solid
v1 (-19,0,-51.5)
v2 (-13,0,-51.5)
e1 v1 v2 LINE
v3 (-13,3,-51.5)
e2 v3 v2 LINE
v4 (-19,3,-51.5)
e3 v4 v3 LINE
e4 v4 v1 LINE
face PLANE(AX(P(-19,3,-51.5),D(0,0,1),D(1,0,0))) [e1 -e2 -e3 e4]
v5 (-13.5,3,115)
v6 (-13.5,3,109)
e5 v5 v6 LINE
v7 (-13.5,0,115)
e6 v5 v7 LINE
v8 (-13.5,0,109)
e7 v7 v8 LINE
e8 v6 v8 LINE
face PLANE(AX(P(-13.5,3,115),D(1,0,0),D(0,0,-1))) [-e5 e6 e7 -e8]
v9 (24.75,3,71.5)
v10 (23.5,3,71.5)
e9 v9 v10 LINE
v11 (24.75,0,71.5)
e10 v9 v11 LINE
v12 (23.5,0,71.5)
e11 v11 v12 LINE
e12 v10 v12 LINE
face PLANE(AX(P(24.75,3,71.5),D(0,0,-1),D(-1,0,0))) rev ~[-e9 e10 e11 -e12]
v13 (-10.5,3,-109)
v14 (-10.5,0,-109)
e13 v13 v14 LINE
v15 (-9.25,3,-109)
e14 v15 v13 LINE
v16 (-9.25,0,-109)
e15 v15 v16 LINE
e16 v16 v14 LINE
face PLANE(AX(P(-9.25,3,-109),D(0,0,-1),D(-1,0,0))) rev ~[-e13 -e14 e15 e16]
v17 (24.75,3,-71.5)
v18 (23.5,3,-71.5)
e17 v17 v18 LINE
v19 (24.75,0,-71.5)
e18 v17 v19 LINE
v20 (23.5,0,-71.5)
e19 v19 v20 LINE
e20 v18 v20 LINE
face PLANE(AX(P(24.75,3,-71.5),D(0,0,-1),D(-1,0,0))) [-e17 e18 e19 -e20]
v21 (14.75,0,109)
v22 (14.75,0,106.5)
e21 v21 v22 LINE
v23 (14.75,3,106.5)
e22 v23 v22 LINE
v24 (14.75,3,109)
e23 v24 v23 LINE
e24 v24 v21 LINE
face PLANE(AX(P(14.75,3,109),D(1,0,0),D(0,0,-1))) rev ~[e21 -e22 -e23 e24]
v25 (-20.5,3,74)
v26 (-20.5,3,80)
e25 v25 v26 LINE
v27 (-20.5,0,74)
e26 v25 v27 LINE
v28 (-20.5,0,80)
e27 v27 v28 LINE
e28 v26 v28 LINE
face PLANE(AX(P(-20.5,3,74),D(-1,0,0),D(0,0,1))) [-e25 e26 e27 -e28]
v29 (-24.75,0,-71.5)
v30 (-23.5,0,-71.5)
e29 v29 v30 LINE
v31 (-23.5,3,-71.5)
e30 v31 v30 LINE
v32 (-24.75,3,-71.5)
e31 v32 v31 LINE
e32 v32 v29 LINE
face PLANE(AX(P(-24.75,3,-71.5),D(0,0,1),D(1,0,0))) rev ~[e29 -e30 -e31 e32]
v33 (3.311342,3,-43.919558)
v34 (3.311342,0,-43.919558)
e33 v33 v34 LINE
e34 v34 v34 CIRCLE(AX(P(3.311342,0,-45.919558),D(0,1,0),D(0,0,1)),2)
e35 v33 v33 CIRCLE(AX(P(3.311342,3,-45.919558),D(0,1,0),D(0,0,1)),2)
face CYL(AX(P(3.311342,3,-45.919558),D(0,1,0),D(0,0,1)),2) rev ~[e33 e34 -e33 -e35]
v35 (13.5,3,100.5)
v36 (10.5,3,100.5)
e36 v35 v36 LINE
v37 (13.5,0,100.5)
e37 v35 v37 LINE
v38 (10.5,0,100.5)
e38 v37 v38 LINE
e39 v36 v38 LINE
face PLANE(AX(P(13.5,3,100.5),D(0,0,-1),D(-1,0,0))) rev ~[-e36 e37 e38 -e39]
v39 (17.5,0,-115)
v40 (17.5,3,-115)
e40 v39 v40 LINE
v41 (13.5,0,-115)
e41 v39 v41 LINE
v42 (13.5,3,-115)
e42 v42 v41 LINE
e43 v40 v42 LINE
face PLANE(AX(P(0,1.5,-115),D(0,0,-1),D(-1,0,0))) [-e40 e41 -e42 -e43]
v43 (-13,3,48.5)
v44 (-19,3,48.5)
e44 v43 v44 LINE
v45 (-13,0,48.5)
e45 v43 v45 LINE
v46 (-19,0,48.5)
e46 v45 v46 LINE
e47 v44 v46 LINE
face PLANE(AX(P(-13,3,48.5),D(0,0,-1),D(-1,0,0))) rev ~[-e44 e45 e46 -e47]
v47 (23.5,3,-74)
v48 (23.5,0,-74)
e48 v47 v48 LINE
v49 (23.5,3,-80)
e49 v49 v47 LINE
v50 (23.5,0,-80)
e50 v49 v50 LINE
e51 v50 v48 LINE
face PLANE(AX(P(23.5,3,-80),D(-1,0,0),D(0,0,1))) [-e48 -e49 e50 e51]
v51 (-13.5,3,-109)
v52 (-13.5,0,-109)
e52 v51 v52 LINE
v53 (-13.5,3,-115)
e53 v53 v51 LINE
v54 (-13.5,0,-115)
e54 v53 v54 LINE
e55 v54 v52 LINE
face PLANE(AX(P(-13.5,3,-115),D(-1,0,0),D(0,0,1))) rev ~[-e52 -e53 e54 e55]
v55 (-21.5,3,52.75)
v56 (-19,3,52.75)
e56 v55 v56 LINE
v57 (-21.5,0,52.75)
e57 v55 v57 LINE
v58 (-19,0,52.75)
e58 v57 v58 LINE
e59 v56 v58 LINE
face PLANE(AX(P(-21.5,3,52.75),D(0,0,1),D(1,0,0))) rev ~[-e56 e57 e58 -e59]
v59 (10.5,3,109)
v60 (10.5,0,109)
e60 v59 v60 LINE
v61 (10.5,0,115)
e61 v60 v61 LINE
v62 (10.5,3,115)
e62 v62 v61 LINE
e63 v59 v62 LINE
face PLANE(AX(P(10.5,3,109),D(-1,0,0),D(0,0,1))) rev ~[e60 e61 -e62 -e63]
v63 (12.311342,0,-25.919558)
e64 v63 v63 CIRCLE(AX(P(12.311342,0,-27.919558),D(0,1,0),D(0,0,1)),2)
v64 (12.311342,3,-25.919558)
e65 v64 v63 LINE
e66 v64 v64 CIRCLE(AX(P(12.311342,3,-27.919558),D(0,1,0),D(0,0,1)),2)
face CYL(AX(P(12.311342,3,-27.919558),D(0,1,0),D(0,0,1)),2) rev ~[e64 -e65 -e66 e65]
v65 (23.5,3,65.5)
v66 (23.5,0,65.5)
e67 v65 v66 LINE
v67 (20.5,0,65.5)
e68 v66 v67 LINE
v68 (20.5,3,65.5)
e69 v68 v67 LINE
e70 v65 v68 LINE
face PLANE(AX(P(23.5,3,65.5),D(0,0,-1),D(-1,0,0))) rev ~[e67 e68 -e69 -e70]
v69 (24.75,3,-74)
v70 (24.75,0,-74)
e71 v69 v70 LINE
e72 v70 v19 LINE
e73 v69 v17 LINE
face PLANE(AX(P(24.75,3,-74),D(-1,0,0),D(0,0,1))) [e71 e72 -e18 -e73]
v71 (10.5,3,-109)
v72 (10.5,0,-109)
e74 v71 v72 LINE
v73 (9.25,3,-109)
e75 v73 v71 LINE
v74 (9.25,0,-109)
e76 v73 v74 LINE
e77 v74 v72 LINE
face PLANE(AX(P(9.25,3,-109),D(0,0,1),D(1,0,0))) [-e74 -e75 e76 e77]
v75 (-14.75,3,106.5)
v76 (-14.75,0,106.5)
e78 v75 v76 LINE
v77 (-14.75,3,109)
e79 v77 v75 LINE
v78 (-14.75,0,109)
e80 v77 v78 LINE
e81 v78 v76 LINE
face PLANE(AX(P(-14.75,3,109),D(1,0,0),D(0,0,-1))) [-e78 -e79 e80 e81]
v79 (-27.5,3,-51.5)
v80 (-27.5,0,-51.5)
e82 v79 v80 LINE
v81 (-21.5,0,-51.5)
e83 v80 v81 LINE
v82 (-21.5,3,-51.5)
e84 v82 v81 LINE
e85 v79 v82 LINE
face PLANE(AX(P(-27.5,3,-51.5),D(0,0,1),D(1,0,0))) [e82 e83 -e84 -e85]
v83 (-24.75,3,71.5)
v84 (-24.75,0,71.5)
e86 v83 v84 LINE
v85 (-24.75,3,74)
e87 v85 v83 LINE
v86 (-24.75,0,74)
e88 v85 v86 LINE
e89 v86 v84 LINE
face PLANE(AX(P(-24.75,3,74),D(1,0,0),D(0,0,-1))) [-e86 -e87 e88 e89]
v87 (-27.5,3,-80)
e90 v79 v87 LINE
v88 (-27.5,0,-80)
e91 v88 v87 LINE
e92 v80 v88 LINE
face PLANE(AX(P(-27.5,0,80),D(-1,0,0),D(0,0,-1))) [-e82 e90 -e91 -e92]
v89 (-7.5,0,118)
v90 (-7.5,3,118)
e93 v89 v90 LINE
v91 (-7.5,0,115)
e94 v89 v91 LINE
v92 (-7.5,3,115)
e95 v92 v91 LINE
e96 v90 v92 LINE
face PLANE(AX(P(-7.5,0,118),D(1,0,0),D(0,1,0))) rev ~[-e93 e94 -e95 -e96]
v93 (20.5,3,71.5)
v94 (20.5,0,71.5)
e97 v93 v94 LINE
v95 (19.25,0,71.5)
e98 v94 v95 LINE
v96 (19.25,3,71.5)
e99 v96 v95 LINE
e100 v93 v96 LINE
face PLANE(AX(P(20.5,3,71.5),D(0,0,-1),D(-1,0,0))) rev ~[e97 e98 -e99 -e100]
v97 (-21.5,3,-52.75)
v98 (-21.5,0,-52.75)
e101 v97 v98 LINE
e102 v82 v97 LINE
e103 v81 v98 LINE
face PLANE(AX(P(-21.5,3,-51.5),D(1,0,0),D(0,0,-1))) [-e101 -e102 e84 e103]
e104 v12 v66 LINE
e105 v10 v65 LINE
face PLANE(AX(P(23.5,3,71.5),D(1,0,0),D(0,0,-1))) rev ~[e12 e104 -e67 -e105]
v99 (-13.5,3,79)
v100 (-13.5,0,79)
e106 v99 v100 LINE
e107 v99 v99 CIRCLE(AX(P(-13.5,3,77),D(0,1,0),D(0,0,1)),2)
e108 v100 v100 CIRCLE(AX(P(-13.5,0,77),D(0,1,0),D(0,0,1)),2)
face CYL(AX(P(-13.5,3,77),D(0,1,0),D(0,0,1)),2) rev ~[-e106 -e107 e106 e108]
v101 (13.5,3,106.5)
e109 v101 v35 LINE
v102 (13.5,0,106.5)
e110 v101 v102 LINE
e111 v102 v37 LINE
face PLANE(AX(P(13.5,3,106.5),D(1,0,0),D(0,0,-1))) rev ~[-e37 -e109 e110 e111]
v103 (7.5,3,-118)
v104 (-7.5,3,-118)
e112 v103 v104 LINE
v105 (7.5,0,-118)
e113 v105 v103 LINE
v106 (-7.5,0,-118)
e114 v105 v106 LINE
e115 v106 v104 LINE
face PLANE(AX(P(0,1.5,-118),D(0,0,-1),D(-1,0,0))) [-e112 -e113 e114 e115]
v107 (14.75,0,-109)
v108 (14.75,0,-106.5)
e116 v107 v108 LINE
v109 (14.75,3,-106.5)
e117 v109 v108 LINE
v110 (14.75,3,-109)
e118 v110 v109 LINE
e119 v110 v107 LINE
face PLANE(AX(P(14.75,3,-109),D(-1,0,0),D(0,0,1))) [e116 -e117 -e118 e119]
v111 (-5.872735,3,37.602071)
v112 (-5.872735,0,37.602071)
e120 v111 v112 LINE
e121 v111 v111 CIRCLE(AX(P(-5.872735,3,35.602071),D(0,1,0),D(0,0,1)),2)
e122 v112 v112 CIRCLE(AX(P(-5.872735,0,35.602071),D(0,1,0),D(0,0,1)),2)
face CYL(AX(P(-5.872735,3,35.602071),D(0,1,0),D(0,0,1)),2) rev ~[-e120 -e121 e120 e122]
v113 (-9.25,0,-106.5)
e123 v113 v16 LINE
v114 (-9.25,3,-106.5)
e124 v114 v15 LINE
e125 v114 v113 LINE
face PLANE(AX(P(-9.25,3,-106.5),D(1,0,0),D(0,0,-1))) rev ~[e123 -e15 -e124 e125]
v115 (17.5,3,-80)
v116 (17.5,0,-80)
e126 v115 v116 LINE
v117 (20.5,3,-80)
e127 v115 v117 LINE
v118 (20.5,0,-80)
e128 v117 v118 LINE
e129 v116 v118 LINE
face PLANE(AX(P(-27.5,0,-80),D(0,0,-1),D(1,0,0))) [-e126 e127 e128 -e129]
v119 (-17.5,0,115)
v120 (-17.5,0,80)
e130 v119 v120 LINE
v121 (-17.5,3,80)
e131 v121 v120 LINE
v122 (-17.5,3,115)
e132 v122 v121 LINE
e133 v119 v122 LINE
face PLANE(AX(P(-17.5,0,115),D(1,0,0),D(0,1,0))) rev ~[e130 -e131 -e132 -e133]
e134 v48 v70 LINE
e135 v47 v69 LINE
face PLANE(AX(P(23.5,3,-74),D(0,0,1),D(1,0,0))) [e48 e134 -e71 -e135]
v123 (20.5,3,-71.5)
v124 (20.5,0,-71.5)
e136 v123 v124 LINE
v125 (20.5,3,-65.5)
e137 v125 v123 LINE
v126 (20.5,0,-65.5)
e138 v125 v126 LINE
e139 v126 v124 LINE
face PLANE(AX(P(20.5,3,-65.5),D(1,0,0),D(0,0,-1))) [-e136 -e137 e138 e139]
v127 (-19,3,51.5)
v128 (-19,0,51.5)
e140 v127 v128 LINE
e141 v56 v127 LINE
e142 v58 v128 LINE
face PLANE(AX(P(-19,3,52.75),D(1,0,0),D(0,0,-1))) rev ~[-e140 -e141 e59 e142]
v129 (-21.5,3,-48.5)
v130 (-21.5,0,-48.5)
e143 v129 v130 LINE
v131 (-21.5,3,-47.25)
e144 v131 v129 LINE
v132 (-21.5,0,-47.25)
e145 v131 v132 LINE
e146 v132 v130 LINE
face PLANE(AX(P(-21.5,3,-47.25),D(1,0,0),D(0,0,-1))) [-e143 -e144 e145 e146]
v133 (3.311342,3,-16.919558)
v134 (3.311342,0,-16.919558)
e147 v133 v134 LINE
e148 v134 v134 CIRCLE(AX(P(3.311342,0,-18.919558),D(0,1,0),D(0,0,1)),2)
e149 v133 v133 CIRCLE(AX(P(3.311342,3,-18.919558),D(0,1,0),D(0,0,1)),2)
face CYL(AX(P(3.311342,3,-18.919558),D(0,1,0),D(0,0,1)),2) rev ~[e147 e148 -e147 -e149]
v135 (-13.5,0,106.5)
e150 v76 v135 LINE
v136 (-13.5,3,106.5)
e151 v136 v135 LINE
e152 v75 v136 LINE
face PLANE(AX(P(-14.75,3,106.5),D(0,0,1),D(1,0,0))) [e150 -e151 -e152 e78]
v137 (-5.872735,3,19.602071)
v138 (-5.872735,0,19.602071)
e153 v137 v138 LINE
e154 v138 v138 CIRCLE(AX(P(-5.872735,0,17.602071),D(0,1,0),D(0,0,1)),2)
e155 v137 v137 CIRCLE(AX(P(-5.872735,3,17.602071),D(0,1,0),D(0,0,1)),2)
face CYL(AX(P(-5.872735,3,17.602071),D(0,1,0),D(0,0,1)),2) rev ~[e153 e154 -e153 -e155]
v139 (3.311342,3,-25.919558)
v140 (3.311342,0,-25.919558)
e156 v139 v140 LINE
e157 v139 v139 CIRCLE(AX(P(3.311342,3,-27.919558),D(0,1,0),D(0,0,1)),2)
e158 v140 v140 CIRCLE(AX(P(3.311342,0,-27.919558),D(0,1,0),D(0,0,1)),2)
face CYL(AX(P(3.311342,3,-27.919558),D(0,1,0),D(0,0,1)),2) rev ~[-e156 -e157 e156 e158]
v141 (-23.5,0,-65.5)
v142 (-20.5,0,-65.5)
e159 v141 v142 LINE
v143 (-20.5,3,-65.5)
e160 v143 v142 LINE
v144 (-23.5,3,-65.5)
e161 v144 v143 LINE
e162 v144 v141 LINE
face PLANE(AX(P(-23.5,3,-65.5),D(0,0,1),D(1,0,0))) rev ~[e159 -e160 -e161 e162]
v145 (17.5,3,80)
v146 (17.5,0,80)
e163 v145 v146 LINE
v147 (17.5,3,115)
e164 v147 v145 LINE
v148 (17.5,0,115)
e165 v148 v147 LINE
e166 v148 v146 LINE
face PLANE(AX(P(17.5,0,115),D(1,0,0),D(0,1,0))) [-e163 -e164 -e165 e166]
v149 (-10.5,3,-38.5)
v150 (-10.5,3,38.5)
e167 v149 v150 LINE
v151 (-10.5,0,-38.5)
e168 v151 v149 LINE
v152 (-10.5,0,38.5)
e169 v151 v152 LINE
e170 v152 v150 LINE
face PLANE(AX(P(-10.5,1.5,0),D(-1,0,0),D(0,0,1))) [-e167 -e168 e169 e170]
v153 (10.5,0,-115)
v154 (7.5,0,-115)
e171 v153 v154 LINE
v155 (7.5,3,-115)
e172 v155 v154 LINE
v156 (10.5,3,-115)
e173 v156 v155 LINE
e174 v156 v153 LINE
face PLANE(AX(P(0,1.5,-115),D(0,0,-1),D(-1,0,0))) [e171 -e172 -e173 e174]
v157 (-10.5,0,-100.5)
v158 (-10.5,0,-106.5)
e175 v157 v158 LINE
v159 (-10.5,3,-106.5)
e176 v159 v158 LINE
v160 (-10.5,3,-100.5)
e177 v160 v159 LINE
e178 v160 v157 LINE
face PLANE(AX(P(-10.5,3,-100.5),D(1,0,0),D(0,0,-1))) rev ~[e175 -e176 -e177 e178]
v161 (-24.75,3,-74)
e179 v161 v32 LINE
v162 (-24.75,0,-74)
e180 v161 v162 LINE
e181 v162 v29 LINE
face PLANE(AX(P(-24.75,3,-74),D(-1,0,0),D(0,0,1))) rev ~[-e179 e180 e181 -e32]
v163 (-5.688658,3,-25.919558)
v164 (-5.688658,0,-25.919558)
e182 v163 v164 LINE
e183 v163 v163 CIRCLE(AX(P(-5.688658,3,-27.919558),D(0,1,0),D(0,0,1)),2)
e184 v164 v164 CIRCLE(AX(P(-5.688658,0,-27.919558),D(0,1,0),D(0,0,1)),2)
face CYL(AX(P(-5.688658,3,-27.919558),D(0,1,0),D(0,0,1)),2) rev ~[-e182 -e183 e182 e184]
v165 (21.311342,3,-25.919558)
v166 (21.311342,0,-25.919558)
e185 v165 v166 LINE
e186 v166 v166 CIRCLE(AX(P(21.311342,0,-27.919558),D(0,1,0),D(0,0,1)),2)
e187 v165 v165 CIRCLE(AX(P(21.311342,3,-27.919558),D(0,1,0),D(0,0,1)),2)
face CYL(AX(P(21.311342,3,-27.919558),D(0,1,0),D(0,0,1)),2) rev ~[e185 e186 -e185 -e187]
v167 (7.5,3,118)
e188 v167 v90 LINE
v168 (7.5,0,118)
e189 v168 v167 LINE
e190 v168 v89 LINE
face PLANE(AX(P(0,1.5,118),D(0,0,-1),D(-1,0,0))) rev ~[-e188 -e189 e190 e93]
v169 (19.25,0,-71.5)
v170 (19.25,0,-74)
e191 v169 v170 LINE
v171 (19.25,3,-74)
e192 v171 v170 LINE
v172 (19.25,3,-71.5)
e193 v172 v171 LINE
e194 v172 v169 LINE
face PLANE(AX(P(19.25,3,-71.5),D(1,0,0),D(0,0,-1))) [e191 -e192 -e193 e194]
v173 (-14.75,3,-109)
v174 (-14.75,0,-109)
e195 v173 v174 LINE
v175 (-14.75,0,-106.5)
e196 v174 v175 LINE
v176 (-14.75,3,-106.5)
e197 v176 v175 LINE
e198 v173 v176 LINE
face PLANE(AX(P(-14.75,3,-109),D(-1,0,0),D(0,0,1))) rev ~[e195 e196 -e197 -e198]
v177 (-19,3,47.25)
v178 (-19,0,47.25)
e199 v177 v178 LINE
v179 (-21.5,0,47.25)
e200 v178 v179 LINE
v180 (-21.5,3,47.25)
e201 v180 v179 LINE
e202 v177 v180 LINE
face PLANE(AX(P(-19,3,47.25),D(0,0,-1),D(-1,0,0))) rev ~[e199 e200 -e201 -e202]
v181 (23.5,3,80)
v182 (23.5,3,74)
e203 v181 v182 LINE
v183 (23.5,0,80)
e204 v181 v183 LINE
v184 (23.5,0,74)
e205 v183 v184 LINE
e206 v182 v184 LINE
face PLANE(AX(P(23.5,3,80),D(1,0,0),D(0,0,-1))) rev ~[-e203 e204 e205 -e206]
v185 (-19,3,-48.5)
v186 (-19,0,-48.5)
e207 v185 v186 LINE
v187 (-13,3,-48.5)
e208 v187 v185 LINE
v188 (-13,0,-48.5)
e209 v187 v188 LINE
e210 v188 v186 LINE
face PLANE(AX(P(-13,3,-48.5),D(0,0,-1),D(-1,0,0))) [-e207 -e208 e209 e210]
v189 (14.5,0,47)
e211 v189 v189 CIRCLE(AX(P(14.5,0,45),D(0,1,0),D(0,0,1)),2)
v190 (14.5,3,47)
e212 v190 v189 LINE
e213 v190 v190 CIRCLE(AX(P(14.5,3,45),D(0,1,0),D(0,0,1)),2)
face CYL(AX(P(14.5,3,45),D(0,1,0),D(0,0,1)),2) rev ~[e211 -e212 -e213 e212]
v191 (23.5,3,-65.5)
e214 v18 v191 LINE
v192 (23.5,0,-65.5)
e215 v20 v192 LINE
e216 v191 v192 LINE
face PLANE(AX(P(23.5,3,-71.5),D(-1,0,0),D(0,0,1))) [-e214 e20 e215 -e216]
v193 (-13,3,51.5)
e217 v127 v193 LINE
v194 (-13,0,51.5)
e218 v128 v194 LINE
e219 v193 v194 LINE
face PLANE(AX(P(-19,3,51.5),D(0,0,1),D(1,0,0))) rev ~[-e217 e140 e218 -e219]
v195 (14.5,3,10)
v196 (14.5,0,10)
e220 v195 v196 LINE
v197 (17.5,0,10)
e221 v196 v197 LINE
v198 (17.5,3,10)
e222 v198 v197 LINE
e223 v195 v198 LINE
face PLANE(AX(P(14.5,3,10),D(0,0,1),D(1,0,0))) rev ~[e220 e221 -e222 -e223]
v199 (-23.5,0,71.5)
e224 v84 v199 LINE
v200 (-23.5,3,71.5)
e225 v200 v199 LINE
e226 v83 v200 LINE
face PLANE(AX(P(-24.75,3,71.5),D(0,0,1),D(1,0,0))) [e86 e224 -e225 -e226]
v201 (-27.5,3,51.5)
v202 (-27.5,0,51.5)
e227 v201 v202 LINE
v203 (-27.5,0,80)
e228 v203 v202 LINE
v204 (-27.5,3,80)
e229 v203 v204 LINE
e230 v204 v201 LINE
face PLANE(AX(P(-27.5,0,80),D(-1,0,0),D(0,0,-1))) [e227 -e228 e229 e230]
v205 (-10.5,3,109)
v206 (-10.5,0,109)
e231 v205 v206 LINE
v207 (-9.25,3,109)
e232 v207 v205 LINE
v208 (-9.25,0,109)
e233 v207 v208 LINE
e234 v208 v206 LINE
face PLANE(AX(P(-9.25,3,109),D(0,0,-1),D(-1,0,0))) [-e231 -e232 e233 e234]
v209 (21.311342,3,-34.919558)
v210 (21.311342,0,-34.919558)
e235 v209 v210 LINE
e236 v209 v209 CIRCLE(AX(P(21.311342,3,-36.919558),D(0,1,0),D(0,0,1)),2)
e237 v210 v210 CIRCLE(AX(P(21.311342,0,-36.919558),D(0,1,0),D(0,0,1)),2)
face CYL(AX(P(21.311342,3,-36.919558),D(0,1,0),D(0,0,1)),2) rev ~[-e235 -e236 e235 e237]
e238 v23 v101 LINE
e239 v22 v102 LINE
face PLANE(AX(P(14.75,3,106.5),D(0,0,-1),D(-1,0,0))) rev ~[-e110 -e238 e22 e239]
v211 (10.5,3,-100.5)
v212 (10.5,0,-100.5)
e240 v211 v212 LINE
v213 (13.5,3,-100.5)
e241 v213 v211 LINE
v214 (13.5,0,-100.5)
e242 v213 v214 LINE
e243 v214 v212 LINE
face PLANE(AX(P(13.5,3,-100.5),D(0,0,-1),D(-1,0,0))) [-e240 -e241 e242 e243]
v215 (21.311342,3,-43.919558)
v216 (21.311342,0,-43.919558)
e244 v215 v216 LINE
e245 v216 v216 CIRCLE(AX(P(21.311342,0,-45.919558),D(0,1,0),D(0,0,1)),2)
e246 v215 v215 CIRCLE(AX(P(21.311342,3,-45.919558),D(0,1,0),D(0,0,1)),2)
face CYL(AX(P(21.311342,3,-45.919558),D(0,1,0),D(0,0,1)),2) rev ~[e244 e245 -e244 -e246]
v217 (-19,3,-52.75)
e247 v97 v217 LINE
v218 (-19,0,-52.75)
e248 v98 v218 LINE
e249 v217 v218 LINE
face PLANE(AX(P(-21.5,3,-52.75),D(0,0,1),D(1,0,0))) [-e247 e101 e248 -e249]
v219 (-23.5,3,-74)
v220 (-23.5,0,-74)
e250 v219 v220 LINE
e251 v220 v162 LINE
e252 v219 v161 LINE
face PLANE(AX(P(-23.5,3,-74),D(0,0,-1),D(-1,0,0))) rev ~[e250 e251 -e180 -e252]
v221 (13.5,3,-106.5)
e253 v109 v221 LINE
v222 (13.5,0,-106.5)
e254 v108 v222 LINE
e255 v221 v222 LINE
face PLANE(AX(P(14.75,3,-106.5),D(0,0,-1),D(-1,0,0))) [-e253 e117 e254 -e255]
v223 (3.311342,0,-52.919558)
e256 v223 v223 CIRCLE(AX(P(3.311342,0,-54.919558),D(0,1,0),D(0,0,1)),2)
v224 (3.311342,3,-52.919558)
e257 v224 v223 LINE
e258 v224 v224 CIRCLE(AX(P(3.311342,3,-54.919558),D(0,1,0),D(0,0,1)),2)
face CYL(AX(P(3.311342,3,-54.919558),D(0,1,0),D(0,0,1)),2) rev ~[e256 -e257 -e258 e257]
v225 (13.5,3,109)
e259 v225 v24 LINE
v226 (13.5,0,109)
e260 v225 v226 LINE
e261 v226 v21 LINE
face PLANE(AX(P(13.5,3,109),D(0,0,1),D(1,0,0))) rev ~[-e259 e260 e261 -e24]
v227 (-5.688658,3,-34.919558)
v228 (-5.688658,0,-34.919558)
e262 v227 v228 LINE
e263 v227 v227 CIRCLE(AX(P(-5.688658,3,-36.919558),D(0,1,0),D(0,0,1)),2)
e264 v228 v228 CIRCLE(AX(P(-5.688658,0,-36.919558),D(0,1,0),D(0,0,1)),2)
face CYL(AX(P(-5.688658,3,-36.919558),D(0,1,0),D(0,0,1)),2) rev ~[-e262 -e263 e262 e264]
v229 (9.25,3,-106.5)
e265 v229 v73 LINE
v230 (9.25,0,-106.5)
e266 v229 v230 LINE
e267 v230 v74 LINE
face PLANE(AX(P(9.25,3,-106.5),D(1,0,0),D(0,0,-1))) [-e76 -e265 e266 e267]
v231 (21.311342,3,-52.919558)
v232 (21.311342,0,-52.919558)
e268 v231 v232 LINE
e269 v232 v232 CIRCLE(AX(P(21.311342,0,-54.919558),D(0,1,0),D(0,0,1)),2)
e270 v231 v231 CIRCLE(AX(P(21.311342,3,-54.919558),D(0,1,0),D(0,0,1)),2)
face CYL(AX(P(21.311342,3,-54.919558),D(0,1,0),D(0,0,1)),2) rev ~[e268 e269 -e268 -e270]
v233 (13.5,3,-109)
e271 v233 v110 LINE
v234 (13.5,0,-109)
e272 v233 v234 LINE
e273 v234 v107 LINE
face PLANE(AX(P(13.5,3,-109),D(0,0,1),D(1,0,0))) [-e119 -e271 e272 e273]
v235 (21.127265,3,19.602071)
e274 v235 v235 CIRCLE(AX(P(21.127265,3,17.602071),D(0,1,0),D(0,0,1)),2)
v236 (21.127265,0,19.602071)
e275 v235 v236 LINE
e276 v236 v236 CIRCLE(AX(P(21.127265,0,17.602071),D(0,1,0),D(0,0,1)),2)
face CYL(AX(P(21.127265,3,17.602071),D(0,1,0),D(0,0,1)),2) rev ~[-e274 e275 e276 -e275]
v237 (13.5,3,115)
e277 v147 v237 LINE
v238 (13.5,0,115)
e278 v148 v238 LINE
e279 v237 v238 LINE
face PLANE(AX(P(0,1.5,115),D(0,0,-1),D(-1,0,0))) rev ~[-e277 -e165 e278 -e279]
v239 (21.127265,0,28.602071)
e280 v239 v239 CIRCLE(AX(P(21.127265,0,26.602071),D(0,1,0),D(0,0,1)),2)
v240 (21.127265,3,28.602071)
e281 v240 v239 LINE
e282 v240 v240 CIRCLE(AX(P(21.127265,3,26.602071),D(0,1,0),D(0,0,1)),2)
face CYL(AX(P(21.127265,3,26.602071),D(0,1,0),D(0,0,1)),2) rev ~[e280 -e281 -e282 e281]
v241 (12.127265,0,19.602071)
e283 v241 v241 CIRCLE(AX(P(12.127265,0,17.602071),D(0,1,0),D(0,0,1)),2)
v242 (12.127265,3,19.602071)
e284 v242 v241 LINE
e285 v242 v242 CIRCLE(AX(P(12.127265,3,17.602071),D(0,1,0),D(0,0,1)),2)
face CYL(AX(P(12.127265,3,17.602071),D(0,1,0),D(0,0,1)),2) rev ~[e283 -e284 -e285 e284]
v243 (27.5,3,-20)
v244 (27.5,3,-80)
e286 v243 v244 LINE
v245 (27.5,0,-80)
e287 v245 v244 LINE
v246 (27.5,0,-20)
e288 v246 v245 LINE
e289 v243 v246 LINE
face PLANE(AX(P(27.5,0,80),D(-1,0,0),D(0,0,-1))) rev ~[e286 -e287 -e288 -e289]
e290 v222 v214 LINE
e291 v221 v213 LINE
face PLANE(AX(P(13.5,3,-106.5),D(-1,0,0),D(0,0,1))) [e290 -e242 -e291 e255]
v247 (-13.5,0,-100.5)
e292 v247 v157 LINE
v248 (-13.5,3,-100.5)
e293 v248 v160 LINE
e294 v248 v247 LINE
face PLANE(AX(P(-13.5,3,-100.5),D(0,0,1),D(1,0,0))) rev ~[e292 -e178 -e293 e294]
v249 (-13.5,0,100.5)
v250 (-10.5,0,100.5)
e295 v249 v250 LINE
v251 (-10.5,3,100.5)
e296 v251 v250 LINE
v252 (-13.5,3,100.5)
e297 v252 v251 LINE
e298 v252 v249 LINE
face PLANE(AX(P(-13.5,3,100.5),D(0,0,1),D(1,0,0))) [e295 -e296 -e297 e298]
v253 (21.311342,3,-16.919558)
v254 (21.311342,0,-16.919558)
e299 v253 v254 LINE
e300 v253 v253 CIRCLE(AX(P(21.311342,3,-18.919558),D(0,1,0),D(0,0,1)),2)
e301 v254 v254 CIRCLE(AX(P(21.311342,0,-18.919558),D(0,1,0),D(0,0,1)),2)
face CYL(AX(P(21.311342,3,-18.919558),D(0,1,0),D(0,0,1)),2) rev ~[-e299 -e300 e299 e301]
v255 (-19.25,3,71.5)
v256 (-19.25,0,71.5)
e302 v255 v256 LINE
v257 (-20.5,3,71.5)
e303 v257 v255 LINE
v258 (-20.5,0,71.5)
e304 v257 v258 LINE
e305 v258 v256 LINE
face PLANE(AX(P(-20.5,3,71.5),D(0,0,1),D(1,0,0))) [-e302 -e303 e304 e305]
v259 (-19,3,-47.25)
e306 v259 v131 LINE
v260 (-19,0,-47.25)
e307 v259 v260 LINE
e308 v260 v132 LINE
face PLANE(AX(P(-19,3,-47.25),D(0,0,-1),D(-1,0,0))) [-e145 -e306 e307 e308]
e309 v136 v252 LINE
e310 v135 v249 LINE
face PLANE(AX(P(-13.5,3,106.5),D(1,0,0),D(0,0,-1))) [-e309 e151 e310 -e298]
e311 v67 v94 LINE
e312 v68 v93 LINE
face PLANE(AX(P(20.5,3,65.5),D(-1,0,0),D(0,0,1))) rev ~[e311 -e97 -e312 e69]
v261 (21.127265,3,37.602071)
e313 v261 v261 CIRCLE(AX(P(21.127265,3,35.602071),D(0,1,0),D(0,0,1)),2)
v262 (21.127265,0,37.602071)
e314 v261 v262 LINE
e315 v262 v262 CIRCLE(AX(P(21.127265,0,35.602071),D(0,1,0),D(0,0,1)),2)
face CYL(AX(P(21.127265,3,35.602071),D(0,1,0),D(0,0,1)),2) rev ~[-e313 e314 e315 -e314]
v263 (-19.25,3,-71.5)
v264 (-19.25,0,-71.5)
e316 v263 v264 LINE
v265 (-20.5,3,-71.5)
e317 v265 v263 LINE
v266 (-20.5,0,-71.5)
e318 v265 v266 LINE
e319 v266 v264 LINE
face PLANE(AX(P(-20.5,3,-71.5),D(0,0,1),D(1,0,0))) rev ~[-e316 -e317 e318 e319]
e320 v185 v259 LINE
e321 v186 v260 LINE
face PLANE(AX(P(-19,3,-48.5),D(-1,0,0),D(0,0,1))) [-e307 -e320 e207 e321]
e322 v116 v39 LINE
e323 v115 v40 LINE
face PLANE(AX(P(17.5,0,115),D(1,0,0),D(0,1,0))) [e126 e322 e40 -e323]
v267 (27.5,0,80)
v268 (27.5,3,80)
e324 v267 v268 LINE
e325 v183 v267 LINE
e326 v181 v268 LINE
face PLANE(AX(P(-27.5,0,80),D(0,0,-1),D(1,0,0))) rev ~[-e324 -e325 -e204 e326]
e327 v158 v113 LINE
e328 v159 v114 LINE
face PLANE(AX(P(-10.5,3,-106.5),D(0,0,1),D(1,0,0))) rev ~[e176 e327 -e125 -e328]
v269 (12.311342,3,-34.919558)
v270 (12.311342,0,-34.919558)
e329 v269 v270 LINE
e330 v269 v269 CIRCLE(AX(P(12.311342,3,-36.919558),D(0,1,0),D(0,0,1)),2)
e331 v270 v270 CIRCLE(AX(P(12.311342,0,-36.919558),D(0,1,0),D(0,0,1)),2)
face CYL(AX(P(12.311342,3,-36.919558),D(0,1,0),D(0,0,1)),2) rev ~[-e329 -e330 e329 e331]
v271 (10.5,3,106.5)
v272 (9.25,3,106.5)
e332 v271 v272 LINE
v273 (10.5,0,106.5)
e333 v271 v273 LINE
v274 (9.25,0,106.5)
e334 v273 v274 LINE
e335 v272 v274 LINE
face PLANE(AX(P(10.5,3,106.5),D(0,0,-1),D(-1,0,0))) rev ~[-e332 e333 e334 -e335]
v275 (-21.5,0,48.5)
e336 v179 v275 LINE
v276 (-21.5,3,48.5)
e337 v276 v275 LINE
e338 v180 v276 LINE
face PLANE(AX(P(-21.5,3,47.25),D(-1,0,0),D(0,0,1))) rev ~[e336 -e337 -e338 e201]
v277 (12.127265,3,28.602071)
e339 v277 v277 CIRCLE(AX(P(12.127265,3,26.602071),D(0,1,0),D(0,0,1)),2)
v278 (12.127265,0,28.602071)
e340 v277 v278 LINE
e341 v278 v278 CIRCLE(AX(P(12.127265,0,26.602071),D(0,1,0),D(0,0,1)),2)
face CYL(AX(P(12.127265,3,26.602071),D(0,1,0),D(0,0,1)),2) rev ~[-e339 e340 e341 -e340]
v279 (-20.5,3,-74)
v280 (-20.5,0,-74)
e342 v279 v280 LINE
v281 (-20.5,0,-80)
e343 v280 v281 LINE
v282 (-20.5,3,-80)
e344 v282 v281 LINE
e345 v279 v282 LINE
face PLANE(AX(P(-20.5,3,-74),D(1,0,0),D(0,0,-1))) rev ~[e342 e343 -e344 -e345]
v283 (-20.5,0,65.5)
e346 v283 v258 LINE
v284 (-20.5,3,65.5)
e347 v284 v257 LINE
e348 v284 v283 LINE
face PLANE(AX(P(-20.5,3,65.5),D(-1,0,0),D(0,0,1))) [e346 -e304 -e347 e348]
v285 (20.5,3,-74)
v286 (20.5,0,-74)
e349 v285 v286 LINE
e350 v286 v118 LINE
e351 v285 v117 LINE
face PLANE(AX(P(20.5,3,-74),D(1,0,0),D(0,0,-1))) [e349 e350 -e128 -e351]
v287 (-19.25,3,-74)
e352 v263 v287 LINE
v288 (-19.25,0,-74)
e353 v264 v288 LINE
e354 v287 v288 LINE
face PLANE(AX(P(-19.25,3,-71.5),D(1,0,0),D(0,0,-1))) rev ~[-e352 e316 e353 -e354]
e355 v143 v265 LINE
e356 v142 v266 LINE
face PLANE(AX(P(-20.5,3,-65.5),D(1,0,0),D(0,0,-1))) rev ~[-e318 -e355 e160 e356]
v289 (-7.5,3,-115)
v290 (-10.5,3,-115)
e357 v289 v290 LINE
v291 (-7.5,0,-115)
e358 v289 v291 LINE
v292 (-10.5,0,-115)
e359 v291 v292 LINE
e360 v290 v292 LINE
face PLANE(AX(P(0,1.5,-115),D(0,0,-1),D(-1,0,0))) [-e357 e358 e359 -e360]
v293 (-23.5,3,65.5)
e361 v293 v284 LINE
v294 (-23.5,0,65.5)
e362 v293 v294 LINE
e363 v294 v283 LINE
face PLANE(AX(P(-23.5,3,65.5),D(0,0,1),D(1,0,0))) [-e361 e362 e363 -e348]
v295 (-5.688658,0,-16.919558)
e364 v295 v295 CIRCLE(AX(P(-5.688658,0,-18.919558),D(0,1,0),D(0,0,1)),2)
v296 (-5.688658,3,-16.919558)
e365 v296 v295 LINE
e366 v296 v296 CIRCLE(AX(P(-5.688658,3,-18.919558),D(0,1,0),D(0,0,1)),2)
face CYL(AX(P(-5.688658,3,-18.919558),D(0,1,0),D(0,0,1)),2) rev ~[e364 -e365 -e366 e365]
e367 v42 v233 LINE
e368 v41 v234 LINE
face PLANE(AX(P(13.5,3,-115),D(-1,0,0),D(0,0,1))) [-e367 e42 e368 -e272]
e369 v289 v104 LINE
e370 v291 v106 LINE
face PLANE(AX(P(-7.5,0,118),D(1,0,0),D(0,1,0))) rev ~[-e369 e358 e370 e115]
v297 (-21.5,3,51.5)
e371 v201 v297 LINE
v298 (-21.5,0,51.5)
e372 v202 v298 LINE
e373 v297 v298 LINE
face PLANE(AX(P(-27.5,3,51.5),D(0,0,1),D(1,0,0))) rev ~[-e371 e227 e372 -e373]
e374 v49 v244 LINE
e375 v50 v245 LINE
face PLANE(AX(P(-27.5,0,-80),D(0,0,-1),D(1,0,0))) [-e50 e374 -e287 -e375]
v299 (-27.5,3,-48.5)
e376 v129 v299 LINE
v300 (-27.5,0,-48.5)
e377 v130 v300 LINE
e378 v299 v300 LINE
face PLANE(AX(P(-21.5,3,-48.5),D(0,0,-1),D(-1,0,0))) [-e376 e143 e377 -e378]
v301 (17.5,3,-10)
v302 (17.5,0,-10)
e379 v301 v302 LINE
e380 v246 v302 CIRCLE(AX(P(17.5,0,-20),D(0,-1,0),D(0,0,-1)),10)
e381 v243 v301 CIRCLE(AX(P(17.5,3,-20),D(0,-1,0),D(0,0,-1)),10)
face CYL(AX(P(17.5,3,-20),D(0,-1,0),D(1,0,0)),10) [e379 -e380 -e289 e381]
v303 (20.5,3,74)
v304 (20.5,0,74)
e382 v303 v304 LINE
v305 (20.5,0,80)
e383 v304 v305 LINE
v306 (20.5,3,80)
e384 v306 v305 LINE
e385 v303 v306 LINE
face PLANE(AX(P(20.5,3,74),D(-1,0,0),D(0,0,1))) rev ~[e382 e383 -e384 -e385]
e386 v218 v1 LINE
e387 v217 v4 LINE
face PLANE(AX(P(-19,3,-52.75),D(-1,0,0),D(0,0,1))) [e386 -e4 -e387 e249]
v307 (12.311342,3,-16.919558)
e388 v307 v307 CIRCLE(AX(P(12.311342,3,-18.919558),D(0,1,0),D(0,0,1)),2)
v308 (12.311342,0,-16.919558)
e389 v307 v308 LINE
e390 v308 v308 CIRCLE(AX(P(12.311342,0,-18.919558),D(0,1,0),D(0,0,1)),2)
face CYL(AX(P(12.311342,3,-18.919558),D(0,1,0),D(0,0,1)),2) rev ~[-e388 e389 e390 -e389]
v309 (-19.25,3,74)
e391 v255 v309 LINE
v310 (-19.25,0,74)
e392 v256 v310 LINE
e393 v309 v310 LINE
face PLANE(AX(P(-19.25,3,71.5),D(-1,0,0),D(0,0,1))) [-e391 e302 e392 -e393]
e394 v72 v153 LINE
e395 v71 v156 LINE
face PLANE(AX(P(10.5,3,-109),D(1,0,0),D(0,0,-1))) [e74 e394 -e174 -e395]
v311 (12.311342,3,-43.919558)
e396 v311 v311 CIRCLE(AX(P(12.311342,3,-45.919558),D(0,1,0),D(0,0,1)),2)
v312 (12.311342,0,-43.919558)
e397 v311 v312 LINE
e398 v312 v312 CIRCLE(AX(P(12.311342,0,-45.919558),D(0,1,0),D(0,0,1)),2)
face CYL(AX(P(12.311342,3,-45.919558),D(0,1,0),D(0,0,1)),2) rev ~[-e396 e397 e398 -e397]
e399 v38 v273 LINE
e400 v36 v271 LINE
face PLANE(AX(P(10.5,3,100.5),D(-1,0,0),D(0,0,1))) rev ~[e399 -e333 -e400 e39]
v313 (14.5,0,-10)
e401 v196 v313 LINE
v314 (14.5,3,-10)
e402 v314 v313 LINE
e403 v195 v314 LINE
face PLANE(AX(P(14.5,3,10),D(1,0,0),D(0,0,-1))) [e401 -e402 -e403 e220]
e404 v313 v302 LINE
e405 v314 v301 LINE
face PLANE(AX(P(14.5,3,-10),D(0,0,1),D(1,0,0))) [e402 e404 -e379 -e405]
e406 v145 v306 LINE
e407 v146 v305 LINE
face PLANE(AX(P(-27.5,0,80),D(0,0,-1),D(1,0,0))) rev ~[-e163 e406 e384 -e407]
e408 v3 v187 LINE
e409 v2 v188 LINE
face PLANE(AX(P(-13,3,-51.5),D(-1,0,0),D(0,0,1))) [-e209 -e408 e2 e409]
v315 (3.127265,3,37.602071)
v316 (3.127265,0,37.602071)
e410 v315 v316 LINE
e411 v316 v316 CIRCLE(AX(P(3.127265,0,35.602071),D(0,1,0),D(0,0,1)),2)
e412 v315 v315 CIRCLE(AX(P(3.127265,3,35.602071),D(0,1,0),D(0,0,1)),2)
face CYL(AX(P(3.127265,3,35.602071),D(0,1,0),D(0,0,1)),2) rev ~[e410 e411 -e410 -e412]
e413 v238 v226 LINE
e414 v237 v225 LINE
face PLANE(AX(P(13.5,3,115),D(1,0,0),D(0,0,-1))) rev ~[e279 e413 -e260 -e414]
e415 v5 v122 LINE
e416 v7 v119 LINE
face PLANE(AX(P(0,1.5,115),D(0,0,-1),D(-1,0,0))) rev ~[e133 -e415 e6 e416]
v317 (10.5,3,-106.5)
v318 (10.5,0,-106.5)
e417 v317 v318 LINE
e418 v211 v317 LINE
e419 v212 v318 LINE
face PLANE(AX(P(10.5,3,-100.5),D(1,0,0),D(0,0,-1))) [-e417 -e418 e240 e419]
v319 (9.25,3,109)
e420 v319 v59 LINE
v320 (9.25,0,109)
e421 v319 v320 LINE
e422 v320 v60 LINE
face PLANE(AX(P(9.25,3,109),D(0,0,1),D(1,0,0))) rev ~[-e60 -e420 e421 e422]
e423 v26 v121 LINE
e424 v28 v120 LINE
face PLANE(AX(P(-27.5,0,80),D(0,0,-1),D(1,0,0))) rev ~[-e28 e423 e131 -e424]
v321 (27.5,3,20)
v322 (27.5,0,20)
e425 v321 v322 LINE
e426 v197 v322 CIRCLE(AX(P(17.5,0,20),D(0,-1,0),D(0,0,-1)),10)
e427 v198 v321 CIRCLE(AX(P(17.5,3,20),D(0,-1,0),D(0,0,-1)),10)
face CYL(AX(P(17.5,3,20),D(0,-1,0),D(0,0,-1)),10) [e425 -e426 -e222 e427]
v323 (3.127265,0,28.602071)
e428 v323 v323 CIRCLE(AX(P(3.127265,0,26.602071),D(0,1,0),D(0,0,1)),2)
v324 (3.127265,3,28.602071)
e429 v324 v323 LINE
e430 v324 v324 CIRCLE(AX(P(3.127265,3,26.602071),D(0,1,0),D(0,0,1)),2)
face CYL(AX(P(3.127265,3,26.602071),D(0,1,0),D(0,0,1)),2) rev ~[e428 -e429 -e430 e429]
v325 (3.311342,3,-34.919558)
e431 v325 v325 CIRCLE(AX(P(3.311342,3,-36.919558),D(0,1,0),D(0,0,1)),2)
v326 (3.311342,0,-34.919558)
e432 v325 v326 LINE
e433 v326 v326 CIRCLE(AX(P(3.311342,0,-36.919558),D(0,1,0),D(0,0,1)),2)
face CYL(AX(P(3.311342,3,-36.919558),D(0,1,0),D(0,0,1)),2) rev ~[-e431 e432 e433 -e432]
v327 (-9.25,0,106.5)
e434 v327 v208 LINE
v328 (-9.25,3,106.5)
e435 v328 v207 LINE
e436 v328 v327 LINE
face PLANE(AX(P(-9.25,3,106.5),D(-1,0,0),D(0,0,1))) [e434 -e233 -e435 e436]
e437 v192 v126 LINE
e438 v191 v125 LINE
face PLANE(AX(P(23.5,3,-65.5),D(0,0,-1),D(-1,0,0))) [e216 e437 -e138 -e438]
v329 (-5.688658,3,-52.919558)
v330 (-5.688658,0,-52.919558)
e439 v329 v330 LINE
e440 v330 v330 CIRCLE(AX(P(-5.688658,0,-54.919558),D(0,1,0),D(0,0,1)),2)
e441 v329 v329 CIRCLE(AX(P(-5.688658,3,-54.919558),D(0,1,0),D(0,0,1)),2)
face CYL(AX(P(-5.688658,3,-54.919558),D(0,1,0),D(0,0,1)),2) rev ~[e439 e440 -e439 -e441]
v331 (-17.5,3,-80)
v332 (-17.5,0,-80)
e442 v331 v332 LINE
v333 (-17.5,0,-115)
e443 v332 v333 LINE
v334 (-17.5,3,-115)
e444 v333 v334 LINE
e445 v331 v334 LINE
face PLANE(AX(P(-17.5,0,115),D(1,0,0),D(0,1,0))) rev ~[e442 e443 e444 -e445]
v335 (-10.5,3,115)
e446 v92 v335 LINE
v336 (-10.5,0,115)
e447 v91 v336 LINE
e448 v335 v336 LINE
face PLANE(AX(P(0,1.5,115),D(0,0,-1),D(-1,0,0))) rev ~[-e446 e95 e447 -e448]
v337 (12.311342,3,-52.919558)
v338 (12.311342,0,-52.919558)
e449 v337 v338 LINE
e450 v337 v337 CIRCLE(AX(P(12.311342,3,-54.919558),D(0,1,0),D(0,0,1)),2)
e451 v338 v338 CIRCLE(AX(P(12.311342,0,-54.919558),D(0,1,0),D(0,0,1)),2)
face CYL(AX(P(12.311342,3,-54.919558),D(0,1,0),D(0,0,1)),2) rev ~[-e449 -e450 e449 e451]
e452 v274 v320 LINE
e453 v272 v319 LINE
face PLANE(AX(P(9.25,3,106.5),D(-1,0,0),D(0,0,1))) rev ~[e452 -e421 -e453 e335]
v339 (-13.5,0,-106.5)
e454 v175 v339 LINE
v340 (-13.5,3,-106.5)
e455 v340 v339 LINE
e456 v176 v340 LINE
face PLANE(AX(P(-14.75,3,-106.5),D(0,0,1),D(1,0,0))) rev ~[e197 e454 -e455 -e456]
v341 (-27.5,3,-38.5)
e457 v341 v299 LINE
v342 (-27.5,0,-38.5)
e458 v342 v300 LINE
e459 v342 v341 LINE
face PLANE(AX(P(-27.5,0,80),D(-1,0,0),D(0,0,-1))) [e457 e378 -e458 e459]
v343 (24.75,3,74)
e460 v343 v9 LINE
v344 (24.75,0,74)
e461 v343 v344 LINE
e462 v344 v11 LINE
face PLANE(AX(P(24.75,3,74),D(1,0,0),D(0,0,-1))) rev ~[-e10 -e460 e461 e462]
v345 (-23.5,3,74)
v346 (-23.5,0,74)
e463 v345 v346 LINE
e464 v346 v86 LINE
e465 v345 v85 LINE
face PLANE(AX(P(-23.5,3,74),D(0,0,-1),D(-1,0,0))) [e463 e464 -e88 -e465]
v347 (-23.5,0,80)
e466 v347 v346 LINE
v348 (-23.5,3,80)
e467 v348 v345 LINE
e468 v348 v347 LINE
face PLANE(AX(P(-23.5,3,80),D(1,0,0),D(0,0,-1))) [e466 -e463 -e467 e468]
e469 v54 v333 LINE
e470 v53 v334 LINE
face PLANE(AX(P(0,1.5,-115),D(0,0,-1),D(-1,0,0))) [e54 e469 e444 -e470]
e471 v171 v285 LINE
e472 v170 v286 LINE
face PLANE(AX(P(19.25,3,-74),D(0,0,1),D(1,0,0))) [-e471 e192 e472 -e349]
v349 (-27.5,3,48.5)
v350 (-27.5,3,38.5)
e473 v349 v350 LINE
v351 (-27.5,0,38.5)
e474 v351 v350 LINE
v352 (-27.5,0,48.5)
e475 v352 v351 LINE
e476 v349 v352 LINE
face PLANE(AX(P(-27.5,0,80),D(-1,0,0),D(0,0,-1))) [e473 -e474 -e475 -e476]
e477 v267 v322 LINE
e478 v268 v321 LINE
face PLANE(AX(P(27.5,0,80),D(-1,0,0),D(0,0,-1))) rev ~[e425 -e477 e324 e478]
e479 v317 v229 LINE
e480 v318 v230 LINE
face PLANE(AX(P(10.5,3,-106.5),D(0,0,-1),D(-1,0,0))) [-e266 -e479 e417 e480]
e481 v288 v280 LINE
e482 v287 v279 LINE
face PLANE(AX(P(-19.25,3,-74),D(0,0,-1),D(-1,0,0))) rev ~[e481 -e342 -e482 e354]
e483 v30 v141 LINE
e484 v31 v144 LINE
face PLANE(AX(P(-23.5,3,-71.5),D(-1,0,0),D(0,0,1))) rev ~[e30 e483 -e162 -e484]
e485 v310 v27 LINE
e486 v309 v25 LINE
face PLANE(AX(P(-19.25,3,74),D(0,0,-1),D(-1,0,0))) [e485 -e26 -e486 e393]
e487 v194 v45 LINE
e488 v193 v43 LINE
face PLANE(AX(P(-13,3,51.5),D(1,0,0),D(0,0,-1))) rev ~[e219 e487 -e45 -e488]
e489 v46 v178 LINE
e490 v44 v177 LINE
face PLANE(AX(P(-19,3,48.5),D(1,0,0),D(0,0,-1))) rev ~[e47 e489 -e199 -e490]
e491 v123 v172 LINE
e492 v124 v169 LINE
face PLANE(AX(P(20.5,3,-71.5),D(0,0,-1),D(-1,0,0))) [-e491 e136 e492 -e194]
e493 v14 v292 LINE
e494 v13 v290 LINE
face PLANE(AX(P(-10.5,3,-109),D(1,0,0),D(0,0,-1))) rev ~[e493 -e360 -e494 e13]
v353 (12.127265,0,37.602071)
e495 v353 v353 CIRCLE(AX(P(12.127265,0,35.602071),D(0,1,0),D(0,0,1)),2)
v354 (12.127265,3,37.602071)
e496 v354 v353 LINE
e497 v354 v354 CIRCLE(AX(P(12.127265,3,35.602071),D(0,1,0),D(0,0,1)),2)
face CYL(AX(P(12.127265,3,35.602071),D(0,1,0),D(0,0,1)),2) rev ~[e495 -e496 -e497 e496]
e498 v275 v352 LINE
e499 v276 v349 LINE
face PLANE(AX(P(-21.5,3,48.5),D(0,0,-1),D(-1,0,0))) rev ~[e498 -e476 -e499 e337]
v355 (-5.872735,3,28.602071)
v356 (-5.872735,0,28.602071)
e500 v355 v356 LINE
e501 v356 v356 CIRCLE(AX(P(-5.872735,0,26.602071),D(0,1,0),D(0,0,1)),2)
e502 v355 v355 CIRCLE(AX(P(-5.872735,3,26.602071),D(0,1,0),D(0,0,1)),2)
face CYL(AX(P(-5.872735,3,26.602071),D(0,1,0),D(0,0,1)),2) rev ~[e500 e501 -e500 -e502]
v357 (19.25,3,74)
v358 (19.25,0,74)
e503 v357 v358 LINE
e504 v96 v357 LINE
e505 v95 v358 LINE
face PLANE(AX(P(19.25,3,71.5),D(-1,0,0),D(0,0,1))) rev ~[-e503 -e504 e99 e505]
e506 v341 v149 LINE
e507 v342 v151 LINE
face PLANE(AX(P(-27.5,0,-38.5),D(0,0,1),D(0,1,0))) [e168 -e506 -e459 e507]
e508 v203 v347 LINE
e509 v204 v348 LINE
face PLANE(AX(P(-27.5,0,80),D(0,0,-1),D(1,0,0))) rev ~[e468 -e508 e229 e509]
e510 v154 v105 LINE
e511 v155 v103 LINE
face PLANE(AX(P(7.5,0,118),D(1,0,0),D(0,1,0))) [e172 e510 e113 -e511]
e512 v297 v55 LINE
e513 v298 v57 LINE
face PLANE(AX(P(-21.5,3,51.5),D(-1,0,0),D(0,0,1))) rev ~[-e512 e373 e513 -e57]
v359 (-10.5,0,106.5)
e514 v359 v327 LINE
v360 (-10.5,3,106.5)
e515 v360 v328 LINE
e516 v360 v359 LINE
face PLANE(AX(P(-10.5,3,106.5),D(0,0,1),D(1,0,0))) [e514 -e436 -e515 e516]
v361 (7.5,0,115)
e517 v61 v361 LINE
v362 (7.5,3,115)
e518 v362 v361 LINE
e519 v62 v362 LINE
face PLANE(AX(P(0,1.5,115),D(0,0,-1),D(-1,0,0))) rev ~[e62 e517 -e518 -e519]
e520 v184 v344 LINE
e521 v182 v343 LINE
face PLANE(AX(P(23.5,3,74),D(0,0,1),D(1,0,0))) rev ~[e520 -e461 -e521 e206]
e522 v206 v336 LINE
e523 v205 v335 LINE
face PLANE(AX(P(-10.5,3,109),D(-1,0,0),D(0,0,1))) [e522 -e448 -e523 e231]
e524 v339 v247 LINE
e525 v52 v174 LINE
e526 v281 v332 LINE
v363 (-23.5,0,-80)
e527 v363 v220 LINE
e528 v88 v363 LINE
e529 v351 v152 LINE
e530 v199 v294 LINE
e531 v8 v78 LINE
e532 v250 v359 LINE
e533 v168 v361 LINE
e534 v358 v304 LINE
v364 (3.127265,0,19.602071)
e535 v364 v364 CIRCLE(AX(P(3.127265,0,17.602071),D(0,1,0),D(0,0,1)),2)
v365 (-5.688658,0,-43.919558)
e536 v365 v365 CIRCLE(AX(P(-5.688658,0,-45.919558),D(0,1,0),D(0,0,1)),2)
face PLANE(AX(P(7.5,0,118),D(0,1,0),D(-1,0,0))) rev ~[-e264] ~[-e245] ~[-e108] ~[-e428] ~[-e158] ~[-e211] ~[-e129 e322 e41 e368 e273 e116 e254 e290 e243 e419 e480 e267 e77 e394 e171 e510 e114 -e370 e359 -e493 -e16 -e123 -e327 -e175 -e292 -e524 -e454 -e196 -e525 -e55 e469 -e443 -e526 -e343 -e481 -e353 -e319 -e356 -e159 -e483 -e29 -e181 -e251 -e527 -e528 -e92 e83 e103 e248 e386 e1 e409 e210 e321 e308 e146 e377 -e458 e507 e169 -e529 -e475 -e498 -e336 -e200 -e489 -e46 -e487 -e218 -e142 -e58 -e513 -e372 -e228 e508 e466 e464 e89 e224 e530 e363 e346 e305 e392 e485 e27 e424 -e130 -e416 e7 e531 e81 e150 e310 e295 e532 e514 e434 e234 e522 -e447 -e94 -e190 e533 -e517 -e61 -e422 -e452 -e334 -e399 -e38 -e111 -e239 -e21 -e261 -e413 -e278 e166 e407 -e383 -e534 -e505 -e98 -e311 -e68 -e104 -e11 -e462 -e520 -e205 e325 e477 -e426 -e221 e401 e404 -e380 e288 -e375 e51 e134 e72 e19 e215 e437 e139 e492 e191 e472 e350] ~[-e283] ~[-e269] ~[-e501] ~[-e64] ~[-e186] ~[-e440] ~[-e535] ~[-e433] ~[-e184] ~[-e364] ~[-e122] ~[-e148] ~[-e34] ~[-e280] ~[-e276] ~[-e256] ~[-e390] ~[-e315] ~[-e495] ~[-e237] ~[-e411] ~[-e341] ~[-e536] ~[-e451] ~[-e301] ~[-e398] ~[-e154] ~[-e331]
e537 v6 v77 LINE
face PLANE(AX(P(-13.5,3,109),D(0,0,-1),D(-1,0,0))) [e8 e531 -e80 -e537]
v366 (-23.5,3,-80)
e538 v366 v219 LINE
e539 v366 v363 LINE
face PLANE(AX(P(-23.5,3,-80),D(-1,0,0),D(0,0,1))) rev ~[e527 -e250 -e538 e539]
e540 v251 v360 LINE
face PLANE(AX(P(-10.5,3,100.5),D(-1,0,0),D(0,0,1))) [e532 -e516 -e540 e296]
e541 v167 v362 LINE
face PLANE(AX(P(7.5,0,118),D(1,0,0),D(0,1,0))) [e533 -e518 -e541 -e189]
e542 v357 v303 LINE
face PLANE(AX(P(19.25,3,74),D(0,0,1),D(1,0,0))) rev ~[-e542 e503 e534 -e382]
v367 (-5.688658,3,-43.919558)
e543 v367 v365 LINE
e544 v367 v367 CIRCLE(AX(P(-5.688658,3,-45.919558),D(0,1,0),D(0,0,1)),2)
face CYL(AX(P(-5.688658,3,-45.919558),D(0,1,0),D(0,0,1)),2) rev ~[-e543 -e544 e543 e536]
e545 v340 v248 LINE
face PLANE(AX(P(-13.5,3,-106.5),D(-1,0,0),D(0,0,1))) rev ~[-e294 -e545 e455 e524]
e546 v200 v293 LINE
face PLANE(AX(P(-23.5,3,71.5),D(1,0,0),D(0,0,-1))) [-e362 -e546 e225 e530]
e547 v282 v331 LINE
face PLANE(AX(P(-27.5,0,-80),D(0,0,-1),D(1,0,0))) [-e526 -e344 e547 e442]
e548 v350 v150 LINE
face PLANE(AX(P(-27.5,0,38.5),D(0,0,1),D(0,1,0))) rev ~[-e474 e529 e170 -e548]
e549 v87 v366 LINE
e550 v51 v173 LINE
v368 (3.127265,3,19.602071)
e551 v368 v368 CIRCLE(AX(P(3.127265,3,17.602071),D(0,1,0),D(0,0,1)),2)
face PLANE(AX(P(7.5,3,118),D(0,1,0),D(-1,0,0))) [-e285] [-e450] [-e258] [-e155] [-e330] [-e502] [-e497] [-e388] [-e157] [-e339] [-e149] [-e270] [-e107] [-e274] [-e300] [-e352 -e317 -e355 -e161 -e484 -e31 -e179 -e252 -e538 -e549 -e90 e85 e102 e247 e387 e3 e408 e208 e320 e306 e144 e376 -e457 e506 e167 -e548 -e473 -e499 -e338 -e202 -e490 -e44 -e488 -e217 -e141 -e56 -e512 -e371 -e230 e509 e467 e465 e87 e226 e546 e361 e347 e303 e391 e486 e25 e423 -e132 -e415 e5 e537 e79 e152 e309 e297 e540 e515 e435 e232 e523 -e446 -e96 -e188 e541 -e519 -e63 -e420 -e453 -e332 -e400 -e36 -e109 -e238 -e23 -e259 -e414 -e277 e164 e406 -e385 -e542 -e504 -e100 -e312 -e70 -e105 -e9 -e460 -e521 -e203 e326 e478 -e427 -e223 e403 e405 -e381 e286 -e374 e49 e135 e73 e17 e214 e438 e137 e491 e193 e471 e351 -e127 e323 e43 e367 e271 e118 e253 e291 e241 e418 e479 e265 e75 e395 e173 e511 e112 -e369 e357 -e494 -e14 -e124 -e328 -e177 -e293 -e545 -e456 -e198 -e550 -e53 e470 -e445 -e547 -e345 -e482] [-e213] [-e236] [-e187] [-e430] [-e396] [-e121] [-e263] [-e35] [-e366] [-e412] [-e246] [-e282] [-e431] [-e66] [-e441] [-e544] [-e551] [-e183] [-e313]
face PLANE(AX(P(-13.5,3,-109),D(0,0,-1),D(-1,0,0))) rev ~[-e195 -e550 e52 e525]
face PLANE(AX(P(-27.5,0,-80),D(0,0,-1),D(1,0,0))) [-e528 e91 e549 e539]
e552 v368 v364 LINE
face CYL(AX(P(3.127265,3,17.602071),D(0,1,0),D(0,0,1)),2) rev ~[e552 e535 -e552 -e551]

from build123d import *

# Parameters (mm, degrees)
SKETCH_1_W                  = 55
SKETCH_1_H                  = 160
EXTRUDE_1_DEPTH             = 3
EXTRUDE_2_DEPTH             = 35
EXTRUDE_2_DEPTH_BACK        = 195
SKETCH_2_W                  = 35
SKETCH_2_H                  = 3
EXTRUDE_3_DEPTH             = 3
EXTRUDE_3_DEPTH_BACK        = 233
SKETCH_3_W                  = 15
SKETCH_3_H                  = 3
CUT_EXTRUDE_1_DEPTH         = 3
CUT_EXTRUDE_2_DEPTH         = 3
SKETCH_6_W                  = 77
SKETCH_6_H                  = 3
CUT_EXTRUDE_3_DEPTH         = 17
SKETCH_8_R                  = 2
CUT_EXTRUDE_4_DEPTH         = 3
SKETCH_9_W                  = 13
SKETCH_9_H                  = 20
CUT_EXTRUDE_5_DEPTH         = 3
FILLET_1_R                  = 10
SKETCH_10_R                 = 2
CUT_EXTRUDE_6_DEPTH         = 10
PATTERN_LINEAR_1_COUNT      = 4
PATTERN_LINEAR_1_PITCH      = 9
PATTERN_LINEAR_1_COUNT_DIR2 = 3
PATTERN_LINEAR_1_PITCH_DIR2 = 9
SKETCH_11_R                 = 2
CUT_EXTRUDE_7_DEPTH         = 10
PATTERN_LINEAR_2_COUNT      = 5
PATTERN_LINEAR_2_PITCH      = 9
PATTERN_LINEAR_2_COUNT_DIR2 = 4
PATTERN_LINEAR_2_PITCH_DIR2 = 9


with BuildPart() as part:
    # Эскиз1 → Бобышка-Вытянуть1 (new body)
    with BuildSketch(Plane(origin=(0, 0, 0), x_dir=(1, 0, 0), z_dir=(0, 1, 0))):
        Rectangle(SKETCH_1_W, SKETCH_1_H)
    extrude(amount=EXTRUDE_1_DEPTH)

    # Эскиз2 → Бобышка-Вытянуть2 (add, two sides: drawn at the far end of the back side and taken through both)
    with BuildSketch(Plane(origin=(0, 0, -80), x_dir=(-1, 0, 0), z_dir=(0, 0, -1)).offset(-EXTRUDE_2_DEPTH_BACK)):
        with Locations((0, 1.5)):
            Rectangle(SKETCH_2_W, SKETCH_2_H)
    extrude(amount=EXTRUDE_2_DEPTH + EXTRUDE_2_DEPTH_BACK)

    # Эскиз3 → Бобышка-Вытянуть3 (add, two sides: drawn at the far end of the back side and taken through both)
    with BuildSketch(Plane(origin=(0, 0, -115), x_dir=(-1, 0, 0), z_dir=(0, 0, -1)).offset(-EXTRUDE_3_DEPTH_BACK)):
        with Locations((0, 1.5)):
            Rectangle(SKETCH_3_W, SKETCH_3_H)
    extrude(amount=EXTRUDE_3_DEPTH + EXTRUDE_3_DEPTH_BACK)

    # Эскиз4 → Вырез-Вытянуть1 (cut)
    with BuildSketch(Plane(origin=(0, 3, 0), x_dir=(1, 0, 0), z_dir=(0, 1, 0))):
        Polygon((-23.5, 80), (-23.5, 74), (-24.75, 74), (-24.75, 71.5), (-23.5, 71.5), (-23.5, 65.5), (-20.5, 65.5), (-20.5, 71.5), (-19.25, 71.5), (-19.25, 74), (-20.5, 74), (-20.5, 80), align=None)
        Polygon((-13.5, 115), (-13.5, 109), (-14.75, 109), (-14.75, 106.5), (-13.5, 106.5), (-13.5, 100.5), (-10.5, 100.5), (-10.5, 106.5), (-9.25, 106.5), (-9.25, 109), (-10.5, 109), (-10.5, 115), align=None)
        Polygon((10.5, 115), (13.5, 115), (13.5, 109), (14.75, 109), (14.75, 106.5), (13.5, 106.5), (13.5, 100.5), (10.5, 100.5), (10.5, 106.5), (9.25, 106.5), (9.25, 109), (10.5, 109), align=None)
        Polygon((20.5, 80), (23.5, 80), (23.5, 74), (24.75, 74), (24.75, 71.5), (23.5, 71.5), (23.5, 65.5), (20.5, 65.5), (20.5, 71.5), (19.25, 71.5), (19.25, 74), (20.5, 74), align=None)
        Polygon((-10.5, -115), (-13.5, -115), (-13.5, -109), (-14.75, -109), (-14.75, -106.5), (-13.5, -106.5), (-13.5, -100.5), (-10.5, -100.5), (-10.5, -106.5), (-9.25, -106.5), (-9.25, -109), (-10.5, -109), align=None)
        Polygon((13.5, -115), (13.5, -109), (14.75, -109), (14.75, -106.5), (13.5, -106.5), (13.5, -100.5), (10.5, -100.5), (10.5, -106.5), (9.25, -106.5), (9.25, -109), (10.5, -109), (10.5, -115), align=None)
        Polygon((-20.5, -80), (-23.5, -80), (-23.5, -74), (-24.75, -74), (-24.75, -71.5), (-23.5, -71.5), (-23.5, -65.5), (-20.5, -65.5), (-20.5, -71.5), (-19.25, -71.5), (-19.25, -74), (-20.5, -74), align=None)
        Polygon((23.5, -80), (23.5, -74), (24.75, -74), (24.75, -71.5), (23.5, -71.5), (23.5, -65.5), (20.5, -65.5), (20.5, -71.5), (19.25, -71.5), (19.25, -74), (20.5, -74), (20.5, -80), align=None)
    extrude(amount=-CUT_EXTRUDE_1_DEPTH, mode=Mode.SUBTRACT)

    # Эскиз5 → Вырез-Вытянуть2 (cut)
    with BuildSketch(Plane(origin=(0, 3, 0), x_dir=(1, 0, 0), z_dir=(0, 1, 0))):
        Polygon((-27.5, 51.5), (-21.5, 51.5), (-21.5, 52.75), (-19, 52.75), (-19, 51.5), (-13, 51.5), (-13, 48.5), (-19, 48.5), (-19, 47.25), (-21.5, 47.25), (-21.5, 48.5), (-27.5, 48.5), align=None)
        Polygon((-27.5, -48.5), (-27.5, -51.5), (-21.5, -51.5), (-21.5, -52.75), (-19, -52.75), (-19, -51.5), (-13, -51.5), (-13, -48.5), (-19, -48.5), (-19, -47.25), (-21.5, -47.25), (-21.5, -48.5), align=None)
    extrude(amount=-CUT_EXTRUDE_2_DEPTH, mode=Mode.SUBTRACT)

    # Эскиз6 → Вырез-Вытянуть3 (cut)
    with BuildSketch(Plane.ZY.offset(27.5)):
        with Locations((0, 1.5)):
            Rectangle(SKETCH_6_W, SKETCH_6_H)
    extrude(amount=-CUT_EXTRUDE_3_DEPTH, mode=Mode.SUBTRACT)

    # Эскиз8 → Вырез-Вытянуть4 (cut)
    with BuildSketch(Plane(origin=(0, 3, 0), x_dir=(1, 0, 0), z_dir=(0, 1, 0))):
        with Locations(Location((-13.5, -77, 0), (0, 0, 270))):
            Circle(SKETCH_8_R)
        with Locations(Location((14.5, -45, 0), (0, 0, 270))):
            Circle(SKETCH_8_R)
    extrude(amount=-CUT_EXTRUDE_4_DEPTH, mode=Mode.SUBTRACT)

    # Эскиз9 → Вырез-Вытянуть5 (cut)
    with BuildSketch(Plane(origin=(0, 3, 0), x_dir=(1, 0, 0), z_dir=(0, 1, 0))):
        with Locations((21, 0)):
            Rectangle(SKETCH_9_W, SKETCH_9_H)
    extrude(amount=-CUT_EXTRUDE_5_DEPTH, mode=Mode.SUBTRACT)

    # Скругление1
    fillet_1_edges = [part.edges().sort_by_distance(p)[0] for p in [
        (27.5, 1.5, -10),
        (27.5, 1.5, 10),
    ]]
    fillet(fillet_1_edges, radius=FILLET_1_R)

    # Эскиз10 → Вырез-Вытянуть6 (cut)
    with BuildSketch(Plane(origin=(0, 3, 0), x_dir=(1, 0, 0), z_dir=(0, 1, 0))):
        with Locations(Location((21.127265004, -35.602070686, 0), (0, 0, 270))):
            Circle(SKETCH_10_R)
    cut_extrude_6 = extrude(amount=-CUT_EXTRUDE_6_DEPTH, mode=Mode.SUBTRACT)

    # Линейный массив1: Cut-Extrude 6 4 × 3
    with Locations(*[(-i * PATTERN_LINEAR_1_PITCH, 0, -j * PATTERN_LINEAR_1_PITCH_DIR2) for i in range(PATTERN_LINEAR_1_COUNT) for j in range(PATTERN_LINEAR_1_COUNT_DIR2) if (i, j) != (0, 0)]):
        add(cut_extrude_6, mode=Mode.SUBTRACT)

    # Эскиз11 → Вырез-Вытянуть7 (cut)
    with BuildSketch(Plane(origin=(0, 3, 0), x_dir=(1, 0, 0), z_dir=(0, 1, 0))):
        with Locations(Location((21.311341687, 18.91955772, 0), (0, 0, 270))):
            Circle(SKETCH_11_R)
    cut_extrude_7 = extrude(amount=-CUT_EXTRUDE_7_DEPTH, mode=Mode.SUBTRACT)

    # Линейный массив2: Cut-Extrude 7 5 × 4
    with Locations(*[(-j * PATTERN_LINEAR_2_PITCH_DIR2, 0, -i * PATTERN_LINEAR_2_PITCH) for i in range(PATTERN_LINEAR_2_COUNT) for j in range(PATTERN_LINEAR_2_COUNT_DIR2) if (i, j) != (0, 0)]):
        add(cut_extrude_7, mode=Mode.SUBTRACT)


solid = part.part
